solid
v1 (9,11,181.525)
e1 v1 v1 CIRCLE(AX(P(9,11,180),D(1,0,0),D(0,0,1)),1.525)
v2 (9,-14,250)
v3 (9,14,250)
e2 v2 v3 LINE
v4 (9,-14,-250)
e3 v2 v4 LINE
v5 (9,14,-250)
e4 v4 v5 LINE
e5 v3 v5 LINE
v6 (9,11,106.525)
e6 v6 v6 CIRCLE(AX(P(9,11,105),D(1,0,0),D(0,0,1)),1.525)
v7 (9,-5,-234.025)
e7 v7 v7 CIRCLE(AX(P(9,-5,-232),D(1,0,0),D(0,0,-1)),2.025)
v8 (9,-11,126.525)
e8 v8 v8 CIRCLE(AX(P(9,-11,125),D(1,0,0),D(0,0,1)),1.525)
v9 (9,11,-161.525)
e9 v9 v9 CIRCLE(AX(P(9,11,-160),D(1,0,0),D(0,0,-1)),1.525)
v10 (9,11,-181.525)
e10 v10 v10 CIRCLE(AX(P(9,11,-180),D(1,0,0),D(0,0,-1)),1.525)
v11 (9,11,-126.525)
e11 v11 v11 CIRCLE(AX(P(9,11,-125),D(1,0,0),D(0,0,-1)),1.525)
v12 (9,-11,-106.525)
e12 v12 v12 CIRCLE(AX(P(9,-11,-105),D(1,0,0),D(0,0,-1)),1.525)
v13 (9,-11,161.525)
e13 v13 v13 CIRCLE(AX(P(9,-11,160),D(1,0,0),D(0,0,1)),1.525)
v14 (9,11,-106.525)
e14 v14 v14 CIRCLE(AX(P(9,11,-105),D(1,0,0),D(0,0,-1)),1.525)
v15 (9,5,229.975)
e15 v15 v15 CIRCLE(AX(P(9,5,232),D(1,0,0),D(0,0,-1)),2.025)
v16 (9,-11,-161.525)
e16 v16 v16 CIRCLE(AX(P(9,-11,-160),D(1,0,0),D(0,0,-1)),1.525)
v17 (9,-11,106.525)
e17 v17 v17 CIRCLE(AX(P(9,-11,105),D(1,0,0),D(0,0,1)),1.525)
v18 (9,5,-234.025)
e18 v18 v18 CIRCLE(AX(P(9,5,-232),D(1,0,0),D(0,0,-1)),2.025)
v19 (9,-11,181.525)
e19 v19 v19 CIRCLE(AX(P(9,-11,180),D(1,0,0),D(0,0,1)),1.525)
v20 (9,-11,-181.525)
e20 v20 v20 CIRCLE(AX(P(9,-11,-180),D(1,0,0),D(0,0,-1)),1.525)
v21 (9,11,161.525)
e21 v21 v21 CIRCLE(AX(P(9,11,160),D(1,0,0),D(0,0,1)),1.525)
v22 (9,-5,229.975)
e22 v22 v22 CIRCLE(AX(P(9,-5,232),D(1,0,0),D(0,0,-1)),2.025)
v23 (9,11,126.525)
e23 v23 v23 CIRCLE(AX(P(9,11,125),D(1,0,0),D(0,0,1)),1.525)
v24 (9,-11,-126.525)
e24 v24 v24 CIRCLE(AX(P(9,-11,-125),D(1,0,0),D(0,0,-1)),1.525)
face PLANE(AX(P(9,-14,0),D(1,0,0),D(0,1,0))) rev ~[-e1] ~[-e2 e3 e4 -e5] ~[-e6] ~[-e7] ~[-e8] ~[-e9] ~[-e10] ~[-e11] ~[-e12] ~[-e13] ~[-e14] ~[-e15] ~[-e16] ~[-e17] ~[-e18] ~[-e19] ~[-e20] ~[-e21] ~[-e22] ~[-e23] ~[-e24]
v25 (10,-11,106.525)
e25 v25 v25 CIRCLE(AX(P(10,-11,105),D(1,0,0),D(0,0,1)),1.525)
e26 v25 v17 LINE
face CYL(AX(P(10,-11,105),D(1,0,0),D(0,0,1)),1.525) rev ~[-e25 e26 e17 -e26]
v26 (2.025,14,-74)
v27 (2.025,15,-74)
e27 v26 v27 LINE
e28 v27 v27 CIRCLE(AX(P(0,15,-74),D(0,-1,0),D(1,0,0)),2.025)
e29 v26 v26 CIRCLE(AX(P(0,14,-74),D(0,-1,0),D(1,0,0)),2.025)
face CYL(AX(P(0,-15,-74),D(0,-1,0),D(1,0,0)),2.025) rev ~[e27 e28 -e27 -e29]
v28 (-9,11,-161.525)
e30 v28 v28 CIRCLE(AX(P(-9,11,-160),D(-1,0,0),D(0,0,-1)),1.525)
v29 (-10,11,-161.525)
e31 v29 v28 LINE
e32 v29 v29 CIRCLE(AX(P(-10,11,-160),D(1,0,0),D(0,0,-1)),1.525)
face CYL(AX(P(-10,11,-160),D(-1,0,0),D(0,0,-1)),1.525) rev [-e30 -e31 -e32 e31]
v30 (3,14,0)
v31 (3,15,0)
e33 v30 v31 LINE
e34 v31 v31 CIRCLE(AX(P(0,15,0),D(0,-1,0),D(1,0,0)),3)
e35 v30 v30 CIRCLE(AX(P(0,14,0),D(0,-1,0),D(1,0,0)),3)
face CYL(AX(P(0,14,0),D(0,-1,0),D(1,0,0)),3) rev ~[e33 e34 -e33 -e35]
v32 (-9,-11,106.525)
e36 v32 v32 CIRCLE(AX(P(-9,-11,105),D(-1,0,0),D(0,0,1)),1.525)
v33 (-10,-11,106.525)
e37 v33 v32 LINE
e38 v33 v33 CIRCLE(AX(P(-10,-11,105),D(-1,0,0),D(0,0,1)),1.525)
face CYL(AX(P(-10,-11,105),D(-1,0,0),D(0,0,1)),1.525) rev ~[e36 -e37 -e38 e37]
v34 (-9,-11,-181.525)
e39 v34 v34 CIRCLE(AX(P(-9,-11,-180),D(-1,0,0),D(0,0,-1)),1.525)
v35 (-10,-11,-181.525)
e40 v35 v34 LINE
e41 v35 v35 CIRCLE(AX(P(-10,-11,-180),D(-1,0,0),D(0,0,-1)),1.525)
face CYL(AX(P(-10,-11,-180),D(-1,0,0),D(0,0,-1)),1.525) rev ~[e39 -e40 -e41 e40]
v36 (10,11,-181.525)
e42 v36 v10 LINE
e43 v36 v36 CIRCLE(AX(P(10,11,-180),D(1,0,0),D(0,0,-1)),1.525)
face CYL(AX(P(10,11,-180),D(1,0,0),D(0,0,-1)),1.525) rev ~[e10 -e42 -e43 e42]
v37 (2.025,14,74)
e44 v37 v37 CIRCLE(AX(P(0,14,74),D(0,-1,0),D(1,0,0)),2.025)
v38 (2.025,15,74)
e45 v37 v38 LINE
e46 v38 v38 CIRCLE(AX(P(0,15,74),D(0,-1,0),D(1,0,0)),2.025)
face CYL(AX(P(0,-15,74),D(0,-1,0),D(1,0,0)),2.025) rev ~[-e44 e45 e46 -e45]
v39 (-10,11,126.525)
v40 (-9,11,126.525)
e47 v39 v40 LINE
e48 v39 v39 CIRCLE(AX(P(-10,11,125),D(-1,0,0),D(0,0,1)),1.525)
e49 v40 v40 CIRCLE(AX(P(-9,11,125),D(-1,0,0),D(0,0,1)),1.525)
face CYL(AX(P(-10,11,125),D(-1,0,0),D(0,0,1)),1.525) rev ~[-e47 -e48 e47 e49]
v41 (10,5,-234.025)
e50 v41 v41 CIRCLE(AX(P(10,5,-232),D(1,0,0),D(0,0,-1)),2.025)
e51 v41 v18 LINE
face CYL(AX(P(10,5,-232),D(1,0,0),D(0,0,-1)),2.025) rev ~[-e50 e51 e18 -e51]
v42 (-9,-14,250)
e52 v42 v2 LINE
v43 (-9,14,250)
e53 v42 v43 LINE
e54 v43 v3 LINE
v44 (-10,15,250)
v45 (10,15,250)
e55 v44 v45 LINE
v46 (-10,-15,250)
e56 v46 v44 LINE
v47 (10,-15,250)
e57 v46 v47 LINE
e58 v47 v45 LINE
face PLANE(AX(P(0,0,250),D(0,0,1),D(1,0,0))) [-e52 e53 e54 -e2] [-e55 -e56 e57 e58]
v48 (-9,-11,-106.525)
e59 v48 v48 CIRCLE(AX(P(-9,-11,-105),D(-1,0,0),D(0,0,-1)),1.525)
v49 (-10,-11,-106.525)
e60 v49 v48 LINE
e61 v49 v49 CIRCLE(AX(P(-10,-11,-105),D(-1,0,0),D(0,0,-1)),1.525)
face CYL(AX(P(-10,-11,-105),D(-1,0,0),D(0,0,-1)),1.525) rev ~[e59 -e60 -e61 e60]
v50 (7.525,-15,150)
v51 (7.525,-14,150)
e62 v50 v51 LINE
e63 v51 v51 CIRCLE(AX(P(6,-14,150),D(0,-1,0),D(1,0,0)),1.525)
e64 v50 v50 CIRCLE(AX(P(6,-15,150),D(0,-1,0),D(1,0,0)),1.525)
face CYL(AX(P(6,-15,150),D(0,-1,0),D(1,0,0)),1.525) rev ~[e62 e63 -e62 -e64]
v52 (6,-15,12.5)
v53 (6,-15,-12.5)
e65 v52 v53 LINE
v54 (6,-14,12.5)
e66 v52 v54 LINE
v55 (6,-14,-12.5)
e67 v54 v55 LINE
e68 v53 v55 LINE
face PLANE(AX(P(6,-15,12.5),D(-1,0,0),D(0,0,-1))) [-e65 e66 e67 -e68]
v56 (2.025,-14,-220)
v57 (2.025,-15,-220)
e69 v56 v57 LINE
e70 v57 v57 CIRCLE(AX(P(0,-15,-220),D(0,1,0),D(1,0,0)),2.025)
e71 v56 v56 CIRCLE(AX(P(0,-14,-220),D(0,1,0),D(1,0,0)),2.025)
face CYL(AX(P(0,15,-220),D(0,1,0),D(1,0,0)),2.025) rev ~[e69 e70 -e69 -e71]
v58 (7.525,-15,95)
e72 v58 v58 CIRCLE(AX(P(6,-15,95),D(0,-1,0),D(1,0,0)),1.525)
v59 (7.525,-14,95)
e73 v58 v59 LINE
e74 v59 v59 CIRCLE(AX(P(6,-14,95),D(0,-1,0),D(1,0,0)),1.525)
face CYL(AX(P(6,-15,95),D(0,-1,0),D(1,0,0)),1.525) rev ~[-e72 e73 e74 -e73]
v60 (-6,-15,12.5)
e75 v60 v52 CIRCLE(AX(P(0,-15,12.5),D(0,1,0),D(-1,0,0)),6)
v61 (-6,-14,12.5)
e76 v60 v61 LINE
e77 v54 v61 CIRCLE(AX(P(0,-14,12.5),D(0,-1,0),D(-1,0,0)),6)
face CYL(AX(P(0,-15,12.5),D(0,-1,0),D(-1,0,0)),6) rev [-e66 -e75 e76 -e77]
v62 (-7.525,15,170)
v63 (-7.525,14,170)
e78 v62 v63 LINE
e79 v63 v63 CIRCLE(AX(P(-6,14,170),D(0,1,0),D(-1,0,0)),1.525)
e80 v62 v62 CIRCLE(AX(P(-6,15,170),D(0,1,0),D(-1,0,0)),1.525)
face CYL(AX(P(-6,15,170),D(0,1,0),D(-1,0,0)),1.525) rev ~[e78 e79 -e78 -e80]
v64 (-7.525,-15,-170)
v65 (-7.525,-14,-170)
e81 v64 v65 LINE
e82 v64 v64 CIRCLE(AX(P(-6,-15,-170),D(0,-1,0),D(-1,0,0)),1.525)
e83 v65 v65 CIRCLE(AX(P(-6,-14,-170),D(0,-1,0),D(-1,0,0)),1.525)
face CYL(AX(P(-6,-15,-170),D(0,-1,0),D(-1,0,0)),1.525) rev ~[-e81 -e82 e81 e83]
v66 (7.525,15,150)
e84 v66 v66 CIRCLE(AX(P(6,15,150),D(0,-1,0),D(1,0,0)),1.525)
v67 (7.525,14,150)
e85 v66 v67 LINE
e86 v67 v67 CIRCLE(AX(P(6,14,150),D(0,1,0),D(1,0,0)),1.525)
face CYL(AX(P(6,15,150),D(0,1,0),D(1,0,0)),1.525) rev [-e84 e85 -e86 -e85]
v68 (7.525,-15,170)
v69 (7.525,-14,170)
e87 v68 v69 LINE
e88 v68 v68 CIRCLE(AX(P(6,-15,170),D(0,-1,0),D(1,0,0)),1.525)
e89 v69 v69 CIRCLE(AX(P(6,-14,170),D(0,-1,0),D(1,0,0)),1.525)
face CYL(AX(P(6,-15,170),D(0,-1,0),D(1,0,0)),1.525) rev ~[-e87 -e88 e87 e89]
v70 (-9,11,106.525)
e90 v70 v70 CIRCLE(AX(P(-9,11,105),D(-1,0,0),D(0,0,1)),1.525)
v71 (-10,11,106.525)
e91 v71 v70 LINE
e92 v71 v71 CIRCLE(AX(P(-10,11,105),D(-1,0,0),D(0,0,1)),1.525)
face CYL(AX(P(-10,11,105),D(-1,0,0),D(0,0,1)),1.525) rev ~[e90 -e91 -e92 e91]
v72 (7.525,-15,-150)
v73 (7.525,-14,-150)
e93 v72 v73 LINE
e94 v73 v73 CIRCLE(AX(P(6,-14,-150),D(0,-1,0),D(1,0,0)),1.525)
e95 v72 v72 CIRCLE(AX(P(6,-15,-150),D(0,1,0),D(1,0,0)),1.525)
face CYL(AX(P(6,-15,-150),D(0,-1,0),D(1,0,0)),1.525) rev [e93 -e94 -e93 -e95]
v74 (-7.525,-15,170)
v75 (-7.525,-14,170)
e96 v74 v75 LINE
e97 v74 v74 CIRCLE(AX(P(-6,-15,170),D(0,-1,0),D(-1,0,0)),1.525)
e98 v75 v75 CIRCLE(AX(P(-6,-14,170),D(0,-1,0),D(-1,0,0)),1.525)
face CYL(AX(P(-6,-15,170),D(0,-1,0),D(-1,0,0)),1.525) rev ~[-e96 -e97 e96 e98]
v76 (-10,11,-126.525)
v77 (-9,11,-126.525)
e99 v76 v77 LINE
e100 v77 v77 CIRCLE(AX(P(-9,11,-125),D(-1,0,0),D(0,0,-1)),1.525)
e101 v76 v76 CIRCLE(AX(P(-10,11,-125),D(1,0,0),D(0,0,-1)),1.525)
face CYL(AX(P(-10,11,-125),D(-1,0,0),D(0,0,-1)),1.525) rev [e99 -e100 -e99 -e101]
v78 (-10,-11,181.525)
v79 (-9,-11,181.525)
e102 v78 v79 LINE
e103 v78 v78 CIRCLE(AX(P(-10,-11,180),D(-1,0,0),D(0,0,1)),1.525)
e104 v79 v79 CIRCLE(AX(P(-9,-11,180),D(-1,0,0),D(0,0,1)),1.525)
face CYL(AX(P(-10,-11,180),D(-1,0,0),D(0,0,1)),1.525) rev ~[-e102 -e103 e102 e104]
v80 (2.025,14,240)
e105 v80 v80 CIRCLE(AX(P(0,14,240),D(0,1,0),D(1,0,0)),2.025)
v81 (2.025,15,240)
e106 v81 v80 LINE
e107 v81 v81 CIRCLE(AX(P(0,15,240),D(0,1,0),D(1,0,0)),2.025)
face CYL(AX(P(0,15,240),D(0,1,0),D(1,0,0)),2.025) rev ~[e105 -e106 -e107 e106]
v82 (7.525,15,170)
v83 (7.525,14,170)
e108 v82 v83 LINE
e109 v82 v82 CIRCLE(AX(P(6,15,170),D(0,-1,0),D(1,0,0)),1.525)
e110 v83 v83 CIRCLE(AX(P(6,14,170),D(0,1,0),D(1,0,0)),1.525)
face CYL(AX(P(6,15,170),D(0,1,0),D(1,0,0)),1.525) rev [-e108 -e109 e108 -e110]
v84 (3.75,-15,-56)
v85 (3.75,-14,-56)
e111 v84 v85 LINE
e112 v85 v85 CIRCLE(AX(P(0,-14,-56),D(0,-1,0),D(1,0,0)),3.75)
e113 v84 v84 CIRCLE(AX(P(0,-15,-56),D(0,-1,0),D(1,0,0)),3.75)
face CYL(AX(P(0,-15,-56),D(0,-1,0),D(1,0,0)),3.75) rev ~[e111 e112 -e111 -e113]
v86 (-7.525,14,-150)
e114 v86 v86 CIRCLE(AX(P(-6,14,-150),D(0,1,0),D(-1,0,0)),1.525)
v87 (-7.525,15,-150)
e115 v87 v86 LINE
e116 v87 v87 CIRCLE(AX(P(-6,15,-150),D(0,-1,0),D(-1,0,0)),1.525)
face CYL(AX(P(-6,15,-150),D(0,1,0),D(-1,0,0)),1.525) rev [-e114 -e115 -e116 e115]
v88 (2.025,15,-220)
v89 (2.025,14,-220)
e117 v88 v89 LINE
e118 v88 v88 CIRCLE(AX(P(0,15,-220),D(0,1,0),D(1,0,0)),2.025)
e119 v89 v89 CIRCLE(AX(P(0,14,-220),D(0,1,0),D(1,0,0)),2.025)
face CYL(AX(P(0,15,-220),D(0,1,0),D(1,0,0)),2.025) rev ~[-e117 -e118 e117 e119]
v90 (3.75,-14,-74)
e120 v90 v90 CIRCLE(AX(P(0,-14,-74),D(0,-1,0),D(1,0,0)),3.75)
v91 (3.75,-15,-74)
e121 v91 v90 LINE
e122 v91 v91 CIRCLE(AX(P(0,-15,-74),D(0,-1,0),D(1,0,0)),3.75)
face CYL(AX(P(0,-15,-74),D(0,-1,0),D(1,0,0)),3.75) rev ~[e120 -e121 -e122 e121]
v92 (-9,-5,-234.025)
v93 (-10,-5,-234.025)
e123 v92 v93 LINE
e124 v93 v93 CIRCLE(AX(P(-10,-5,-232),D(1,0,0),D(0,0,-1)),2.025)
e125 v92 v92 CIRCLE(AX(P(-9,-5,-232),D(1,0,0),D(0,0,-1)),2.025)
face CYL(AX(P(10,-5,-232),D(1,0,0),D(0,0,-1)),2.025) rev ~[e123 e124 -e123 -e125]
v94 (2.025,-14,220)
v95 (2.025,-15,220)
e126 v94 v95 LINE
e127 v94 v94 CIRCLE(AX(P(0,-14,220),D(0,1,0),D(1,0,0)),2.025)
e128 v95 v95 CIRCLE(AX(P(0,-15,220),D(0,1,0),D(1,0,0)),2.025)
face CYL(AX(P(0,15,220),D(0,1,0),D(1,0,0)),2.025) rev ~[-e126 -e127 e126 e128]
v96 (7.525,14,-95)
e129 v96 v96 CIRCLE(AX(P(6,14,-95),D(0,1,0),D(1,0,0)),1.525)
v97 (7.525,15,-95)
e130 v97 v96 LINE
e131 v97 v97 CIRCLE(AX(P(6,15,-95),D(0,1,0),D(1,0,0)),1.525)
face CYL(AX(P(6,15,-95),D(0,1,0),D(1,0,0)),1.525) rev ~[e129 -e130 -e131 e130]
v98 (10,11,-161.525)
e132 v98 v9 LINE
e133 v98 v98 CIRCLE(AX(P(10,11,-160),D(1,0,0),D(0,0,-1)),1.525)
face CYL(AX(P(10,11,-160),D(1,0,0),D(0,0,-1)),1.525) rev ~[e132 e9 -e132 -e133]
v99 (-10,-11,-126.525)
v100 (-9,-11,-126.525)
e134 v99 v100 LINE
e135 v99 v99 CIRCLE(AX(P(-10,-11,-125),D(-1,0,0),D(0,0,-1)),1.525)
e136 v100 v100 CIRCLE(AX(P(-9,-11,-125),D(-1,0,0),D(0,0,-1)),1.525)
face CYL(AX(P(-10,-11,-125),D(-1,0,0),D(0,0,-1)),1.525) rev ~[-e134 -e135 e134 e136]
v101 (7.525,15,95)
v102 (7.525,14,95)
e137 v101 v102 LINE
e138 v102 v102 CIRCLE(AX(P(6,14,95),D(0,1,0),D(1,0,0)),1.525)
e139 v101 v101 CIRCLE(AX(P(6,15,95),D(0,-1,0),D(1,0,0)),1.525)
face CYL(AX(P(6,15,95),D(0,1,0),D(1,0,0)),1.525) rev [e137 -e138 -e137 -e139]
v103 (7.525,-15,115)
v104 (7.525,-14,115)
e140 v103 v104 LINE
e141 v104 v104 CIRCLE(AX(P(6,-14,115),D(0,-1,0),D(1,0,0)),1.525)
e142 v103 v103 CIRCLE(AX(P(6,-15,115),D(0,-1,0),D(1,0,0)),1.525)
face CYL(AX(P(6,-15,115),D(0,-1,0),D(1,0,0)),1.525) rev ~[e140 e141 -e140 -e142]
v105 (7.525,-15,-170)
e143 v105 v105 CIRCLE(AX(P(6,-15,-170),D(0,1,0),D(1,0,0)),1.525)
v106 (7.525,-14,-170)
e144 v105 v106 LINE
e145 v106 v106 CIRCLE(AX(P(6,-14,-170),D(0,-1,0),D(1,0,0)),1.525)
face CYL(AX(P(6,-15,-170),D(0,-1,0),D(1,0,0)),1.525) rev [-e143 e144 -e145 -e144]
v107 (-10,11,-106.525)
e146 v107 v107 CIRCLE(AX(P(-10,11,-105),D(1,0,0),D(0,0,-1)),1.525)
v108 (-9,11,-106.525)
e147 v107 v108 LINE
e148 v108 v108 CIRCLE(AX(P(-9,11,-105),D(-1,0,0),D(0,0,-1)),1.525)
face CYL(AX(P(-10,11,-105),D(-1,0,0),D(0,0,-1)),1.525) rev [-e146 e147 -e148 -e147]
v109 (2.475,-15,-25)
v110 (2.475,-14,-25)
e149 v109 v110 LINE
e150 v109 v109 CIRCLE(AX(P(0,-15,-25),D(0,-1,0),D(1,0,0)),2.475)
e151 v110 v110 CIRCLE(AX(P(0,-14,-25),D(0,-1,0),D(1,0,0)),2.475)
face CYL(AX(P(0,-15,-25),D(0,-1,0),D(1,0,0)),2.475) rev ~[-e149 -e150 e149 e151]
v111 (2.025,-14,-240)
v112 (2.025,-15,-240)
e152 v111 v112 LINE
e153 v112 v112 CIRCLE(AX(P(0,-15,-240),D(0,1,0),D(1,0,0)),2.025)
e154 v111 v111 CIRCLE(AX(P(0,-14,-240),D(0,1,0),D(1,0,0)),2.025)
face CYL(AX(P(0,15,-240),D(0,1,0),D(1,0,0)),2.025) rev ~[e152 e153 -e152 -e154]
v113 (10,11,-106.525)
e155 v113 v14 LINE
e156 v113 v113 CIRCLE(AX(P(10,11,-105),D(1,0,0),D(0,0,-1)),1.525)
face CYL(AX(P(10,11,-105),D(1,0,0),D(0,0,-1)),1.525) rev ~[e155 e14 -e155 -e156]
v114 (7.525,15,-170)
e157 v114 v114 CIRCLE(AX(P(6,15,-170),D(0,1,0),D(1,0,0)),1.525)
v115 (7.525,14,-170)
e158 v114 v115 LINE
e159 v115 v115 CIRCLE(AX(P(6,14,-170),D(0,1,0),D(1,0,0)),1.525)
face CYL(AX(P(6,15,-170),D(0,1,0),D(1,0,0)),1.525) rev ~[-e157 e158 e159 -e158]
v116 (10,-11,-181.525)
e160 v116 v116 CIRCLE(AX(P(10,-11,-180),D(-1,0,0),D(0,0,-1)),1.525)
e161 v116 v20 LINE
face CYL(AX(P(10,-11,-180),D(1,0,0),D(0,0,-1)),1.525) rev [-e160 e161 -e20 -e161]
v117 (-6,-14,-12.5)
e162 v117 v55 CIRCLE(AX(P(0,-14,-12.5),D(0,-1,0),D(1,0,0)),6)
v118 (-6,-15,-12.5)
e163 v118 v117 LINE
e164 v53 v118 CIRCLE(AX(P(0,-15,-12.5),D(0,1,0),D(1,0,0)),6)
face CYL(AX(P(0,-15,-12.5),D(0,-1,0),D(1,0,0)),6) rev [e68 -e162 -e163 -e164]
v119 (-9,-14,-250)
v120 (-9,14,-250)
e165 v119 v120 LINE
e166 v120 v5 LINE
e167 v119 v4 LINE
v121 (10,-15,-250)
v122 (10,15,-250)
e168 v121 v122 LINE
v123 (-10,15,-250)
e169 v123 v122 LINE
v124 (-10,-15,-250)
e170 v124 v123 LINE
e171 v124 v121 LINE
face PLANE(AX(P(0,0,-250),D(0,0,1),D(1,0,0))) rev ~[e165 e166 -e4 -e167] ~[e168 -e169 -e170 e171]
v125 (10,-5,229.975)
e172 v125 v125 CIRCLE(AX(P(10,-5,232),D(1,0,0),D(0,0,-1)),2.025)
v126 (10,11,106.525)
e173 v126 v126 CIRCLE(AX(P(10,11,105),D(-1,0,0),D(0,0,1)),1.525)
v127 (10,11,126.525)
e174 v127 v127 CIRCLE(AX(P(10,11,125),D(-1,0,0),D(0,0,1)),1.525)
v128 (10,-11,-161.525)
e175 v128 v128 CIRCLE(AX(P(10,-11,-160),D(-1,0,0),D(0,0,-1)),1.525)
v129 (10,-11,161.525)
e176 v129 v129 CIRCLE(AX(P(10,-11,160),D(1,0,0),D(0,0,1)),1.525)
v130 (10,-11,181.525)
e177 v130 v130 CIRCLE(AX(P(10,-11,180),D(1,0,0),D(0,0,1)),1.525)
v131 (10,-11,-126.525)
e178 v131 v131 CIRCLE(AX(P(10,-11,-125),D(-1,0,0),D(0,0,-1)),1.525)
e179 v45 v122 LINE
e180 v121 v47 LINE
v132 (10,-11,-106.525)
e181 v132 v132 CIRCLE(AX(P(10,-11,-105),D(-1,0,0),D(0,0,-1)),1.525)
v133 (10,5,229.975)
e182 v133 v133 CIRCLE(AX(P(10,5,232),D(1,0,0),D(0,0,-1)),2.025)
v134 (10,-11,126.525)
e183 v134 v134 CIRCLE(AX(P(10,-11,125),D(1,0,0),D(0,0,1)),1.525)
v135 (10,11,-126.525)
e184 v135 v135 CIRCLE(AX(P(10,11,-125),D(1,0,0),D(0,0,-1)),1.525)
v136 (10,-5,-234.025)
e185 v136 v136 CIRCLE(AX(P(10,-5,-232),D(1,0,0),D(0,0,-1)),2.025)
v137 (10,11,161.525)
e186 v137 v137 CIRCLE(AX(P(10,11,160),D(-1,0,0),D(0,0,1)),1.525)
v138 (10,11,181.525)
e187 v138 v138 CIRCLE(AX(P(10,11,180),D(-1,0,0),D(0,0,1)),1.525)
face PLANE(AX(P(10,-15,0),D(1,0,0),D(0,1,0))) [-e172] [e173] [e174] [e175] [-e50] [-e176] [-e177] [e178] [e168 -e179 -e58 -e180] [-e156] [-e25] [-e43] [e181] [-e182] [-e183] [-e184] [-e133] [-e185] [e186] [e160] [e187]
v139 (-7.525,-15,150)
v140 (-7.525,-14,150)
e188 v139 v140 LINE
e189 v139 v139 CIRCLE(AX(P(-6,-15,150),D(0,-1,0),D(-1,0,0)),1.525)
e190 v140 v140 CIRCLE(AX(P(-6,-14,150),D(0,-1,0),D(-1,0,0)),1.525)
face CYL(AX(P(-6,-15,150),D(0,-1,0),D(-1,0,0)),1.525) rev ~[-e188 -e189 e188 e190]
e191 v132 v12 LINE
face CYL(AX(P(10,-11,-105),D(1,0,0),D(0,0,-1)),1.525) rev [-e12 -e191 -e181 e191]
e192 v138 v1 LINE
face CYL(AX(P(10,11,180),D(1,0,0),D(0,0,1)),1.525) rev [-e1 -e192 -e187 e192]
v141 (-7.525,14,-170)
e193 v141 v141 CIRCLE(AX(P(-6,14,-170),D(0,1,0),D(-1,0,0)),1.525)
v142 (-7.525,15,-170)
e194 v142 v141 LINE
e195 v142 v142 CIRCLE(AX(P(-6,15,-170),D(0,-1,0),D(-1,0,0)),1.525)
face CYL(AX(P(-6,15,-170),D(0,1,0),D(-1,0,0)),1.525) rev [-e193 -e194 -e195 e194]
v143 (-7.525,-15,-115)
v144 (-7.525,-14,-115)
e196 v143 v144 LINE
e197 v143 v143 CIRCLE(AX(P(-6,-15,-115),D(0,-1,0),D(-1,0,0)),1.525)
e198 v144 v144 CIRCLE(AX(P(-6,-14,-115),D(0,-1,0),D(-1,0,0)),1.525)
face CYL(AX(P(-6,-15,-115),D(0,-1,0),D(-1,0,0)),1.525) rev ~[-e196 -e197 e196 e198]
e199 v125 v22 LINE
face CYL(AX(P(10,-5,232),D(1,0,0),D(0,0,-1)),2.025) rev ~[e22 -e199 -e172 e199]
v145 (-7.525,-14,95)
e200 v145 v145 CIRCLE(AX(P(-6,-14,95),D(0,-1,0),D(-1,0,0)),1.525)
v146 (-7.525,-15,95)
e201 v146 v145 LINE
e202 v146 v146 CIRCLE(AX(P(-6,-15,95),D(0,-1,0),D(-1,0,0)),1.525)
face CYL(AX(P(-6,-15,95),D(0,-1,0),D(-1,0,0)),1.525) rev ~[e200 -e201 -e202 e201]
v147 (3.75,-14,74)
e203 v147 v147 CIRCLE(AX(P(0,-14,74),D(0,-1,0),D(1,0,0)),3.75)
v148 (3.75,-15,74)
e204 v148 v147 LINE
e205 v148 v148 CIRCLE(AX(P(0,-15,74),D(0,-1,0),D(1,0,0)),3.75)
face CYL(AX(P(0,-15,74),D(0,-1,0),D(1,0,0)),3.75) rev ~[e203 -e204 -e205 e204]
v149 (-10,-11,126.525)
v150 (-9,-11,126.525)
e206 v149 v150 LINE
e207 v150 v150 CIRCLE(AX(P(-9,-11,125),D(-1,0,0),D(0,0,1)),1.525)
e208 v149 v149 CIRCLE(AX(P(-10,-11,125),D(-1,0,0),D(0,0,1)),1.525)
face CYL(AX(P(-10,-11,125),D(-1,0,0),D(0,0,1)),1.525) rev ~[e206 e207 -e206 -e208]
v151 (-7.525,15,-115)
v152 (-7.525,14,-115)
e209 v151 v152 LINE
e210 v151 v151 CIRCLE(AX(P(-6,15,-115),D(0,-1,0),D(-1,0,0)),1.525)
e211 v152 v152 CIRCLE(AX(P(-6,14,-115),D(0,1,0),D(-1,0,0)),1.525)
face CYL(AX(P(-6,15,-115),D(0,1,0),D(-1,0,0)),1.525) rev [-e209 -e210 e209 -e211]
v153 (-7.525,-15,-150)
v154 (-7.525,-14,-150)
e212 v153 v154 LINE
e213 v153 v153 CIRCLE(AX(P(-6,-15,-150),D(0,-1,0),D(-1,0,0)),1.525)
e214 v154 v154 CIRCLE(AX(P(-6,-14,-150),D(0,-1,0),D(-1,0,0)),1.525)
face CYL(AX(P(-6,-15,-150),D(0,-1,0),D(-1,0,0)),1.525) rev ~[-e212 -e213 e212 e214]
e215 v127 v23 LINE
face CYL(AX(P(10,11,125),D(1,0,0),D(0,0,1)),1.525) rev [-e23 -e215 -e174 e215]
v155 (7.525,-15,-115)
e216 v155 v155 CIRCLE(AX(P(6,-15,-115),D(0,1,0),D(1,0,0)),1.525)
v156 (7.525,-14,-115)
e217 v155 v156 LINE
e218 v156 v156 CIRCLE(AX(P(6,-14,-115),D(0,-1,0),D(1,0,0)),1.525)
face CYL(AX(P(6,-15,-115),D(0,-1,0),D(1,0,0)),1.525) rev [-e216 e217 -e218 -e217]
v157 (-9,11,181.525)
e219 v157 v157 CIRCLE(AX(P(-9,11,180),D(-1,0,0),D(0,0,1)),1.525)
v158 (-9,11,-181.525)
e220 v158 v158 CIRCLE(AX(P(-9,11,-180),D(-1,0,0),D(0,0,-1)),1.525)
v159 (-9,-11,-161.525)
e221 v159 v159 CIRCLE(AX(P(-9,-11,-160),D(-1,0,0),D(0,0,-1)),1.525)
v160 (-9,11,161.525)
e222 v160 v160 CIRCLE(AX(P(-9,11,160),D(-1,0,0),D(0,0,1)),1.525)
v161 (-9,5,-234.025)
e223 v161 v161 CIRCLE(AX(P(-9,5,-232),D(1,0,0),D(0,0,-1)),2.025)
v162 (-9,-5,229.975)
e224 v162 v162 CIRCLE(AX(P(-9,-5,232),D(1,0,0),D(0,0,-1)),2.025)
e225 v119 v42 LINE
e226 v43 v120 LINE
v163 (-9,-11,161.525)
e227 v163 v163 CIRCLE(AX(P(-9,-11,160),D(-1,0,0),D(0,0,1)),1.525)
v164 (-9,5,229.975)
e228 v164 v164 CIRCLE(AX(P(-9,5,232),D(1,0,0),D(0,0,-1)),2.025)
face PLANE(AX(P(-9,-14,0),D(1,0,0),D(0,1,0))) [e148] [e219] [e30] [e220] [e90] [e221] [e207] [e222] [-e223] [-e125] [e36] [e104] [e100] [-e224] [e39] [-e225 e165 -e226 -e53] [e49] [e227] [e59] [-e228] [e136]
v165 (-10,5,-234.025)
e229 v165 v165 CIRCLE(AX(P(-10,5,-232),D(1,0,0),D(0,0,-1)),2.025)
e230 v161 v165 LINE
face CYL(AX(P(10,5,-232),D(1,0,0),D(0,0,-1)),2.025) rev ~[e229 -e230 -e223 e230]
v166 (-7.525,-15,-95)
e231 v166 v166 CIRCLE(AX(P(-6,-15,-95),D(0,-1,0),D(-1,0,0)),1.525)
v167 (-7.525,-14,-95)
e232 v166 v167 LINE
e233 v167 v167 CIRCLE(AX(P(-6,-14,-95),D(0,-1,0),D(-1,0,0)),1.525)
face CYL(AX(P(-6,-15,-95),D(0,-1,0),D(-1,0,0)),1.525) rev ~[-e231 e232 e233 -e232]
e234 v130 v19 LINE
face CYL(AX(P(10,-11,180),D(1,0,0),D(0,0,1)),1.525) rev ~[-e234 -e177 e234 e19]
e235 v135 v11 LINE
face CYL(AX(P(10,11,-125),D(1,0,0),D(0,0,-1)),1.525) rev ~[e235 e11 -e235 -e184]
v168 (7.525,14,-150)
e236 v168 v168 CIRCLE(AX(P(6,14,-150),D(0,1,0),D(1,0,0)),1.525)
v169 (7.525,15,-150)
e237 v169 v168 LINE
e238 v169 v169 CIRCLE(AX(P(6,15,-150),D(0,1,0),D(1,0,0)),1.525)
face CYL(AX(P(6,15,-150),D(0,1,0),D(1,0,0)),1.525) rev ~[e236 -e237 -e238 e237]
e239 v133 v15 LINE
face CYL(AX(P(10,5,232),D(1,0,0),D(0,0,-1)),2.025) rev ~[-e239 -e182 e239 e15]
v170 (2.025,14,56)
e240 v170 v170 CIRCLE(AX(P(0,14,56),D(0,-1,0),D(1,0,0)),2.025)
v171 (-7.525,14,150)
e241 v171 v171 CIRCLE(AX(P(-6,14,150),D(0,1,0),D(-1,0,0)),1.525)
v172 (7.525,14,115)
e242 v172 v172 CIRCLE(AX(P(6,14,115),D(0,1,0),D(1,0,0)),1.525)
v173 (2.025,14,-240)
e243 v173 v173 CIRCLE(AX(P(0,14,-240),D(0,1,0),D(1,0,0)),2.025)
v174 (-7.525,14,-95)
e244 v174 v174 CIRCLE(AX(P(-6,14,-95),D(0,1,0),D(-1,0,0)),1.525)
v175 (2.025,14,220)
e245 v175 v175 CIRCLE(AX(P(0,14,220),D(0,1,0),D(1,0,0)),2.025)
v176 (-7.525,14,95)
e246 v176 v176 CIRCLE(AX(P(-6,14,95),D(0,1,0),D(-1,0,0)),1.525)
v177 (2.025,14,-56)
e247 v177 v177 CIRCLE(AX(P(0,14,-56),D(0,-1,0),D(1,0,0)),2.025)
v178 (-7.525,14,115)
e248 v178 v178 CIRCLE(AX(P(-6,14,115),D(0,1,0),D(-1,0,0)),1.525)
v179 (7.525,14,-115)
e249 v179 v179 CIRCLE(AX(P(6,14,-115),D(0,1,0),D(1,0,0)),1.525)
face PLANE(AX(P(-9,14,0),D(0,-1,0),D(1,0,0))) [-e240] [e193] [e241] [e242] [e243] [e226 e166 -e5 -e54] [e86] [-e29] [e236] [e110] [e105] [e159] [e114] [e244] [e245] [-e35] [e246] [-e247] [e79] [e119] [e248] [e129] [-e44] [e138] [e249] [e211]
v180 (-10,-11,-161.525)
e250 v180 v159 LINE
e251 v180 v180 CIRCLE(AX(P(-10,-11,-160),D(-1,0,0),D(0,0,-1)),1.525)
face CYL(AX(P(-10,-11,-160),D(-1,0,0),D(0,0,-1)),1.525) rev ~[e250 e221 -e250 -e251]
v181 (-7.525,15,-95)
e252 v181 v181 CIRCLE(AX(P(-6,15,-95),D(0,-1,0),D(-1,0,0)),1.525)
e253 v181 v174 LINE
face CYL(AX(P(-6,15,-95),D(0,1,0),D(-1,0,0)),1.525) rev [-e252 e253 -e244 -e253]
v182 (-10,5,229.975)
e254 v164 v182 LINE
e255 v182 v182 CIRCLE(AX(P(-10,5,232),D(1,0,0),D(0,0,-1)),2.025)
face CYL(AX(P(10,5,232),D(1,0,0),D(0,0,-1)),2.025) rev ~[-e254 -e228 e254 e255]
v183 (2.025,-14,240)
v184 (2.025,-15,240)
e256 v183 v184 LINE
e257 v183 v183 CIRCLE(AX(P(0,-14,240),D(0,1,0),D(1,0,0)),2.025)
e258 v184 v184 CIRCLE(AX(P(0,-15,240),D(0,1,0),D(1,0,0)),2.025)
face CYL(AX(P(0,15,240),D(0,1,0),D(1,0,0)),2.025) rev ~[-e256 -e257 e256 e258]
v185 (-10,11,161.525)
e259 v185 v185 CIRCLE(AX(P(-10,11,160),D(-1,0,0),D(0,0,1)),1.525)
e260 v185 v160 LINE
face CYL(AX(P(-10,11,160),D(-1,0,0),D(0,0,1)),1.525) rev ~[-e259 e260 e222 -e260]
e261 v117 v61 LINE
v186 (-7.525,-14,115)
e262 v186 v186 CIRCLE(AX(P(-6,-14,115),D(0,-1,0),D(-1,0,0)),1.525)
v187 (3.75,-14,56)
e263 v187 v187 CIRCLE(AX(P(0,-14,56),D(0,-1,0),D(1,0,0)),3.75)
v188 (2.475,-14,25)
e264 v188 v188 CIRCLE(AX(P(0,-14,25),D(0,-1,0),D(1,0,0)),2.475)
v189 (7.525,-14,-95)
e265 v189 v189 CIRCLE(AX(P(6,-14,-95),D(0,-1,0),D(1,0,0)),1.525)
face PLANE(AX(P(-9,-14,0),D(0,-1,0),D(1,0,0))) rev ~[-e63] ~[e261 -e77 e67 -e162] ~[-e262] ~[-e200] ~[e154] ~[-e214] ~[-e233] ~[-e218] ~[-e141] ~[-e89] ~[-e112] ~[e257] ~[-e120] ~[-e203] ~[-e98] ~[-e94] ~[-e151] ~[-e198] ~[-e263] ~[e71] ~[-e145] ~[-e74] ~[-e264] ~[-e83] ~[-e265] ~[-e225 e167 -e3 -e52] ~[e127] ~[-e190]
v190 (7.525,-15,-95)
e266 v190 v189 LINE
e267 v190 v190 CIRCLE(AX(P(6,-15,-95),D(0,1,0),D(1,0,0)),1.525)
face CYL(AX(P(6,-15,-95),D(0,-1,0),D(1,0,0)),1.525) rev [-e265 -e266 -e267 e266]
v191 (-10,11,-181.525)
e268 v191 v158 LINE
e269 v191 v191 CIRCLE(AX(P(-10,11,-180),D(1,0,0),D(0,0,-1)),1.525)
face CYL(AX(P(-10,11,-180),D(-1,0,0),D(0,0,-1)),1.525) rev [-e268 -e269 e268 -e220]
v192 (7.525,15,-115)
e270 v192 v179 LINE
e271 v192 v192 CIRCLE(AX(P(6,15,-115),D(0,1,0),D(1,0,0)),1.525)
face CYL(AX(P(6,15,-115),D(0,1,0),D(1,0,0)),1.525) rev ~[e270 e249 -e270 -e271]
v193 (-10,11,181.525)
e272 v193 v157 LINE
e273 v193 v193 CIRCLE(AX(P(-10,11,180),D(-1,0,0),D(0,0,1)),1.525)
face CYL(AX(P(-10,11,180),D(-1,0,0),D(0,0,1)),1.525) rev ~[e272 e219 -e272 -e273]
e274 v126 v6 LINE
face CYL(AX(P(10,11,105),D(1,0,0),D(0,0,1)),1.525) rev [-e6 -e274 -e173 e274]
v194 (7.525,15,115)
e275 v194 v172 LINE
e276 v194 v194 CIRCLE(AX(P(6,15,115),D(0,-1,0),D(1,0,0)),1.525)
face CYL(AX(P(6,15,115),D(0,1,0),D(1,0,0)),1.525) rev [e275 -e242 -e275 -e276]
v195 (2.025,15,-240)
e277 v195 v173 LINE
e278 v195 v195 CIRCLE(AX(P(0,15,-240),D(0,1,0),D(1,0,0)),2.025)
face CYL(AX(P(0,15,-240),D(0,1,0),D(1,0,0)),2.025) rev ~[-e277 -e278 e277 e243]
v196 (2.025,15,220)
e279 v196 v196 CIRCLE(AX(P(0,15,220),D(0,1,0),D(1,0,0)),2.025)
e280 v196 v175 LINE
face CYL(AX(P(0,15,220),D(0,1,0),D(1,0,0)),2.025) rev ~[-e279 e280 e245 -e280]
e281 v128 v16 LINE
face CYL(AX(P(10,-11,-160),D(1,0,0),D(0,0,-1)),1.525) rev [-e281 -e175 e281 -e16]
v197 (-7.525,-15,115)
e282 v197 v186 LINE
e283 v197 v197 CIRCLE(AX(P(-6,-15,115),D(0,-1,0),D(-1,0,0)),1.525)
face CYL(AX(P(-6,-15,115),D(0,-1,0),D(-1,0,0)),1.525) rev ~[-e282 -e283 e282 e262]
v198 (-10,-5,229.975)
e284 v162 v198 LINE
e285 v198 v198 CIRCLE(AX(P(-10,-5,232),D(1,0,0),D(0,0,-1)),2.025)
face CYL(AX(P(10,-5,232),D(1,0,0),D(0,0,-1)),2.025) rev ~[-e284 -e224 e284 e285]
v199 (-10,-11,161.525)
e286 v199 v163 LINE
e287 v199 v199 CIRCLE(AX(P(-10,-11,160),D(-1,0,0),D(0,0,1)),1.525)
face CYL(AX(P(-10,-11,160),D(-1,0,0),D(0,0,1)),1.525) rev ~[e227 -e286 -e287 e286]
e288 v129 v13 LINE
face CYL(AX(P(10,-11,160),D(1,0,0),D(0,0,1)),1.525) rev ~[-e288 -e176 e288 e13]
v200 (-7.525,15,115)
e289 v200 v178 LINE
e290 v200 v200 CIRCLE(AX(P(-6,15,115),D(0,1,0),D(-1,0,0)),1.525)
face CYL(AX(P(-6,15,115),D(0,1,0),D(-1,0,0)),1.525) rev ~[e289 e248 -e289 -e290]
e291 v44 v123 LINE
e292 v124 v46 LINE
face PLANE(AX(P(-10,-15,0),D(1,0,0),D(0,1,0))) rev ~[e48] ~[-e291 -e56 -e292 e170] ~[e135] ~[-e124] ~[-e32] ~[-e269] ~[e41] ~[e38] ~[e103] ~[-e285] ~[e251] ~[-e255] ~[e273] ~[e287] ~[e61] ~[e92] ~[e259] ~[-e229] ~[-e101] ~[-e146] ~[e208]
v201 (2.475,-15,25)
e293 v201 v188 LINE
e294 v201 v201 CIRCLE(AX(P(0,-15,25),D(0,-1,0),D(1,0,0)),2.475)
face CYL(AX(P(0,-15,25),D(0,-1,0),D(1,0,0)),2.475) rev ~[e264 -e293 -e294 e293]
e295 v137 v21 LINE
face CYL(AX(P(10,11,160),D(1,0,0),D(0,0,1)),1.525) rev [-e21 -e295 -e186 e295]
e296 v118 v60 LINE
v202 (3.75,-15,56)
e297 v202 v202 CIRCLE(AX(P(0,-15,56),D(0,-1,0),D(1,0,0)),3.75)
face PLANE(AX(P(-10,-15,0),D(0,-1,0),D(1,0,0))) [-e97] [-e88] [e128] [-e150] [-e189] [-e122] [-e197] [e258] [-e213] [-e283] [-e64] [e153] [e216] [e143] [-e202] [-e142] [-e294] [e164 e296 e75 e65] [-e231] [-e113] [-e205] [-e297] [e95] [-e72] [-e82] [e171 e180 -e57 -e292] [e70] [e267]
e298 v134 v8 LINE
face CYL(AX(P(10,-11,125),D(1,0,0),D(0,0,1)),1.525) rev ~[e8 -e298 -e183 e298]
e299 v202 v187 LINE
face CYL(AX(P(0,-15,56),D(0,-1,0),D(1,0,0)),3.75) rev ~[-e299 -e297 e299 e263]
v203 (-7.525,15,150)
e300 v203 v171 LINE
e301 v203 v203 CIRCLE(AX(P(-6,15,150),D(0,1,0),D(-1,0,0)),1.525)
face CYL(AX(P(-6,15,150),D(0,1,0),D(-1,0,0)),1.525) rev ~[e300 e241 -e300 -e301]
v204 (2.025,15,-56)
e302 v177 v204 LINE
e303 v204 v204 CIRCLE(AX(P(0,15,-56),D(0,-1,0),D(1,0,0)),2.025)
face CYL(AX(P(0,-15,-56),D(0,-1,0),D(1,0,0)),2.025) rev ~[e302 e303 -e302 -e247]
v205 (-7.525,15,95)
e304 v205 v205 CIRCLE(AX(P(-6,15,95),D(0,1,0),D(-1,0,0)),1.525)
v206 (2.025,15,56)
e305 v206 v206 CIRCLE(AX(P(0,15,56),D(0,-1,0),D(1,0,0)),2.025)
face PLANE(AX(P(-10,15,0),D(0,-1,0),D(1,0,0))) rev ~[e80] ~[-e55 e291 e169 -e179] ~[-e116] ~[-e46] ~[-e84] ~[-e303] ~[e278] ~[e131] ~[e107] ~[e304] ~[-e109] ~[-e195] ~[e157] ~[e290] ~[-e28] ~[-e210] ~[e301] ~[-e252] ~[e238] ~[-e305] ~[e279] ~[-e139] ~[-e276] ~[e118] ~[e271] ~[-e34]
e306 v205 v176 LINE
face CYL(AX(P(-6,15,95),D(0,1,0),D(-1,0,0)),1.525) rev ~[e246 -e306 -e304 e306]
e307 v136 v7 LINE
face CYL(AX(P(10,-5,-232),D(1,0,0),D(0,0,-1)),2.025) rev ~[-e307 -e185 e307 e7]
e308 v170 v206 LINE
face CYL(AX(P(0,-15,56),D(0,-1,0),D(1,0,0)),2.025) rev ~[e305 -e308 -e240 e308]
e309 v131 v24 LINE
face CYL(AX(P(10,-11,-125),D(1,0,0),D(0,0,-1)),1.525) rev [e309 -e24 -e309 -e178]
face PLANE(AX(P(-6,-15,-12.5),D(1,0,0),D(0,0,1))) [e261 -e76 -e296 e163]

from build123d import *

# Parameters (mm, degrees)
SKETCH_1_W               = 20
SKETCH_1_H               = 30
SKETCH_1_W_2             = 18
SKETCH_1_H_2             = 28
EXTRUDE_1_DEPTH          = 250
SKETCH_2_R               = 2.025
CUT_EXTRUDE_1_DEPTH      = 30
SKETCH_3_R               = 6
CUT_EXTRUDE_2_DEPTH      = 10
SKETCH_4_R               = 3
CUT_EXTRUDE_3_DEPTH      = 10
SKETCH_5_R               = 2.025
CUT_EXTRUDE_4_DEPTH      = 50
SKETCH_6_R               = 3.75
CUT_EXTRUDE_5_DEPTH      = 2
SKETCH_7_R               = 1.525
CUT_EXTRUDE_6_DEPTH      = 10
SKETCH_8_R               = 1.525
CUT_EXTRUDE_7_DEPTH      = 10
MIRROR_2_COPY_1_SKETCH_R = 1.525
MIRROR_2_COPY_1_DEPTH    = 10
MIRROR_2_COPY_2_SKETCH_R = 1.525
MIRROR_2_COPY_2_DEPTH    = 10
MIRROR_3_COPY_1_SKETCH_R = 1.525
MIRROR_3_COPY_1_DEPTH    = 10
MIRROR_3_COPY_2_SKETCH_R = 1.525
MIRROR_3_COPY_2_DEPTH    = 10
MIRROR_3_COPY_3_SKETCH_R = 1.525
MIRROR_3_COPY_3_DEPTH    = 10
MIRROR_3_COPY_4_SKETCH_R = 1.525
MIRROR_3_COPY_4_DEPTH    = 10
MIRROR_3_COPY_5_SKETCH_R = 1.525
MIRROR_3_COPY_5_DEPTH    = 10
MIRROR_3_COPY_6_SKETCH_R = 1.525
MIRROR_3_COPY_6_DEPTH    = 10
CUT_EXTRUDE_8_DEPTH      = 10
SKETCH_11_R              = 2.475
CUT_EXTRUDE_9_DEPTH      = 10
SKETCH_12_R              = 2.025
CUT_EXTRUDE_10_DEPTH     = 20


with BuildPart() as part:
    # Sketch 1 → Extrude 1 (new body, symmetric)
    with BuildSketch(Plane.XY):
        Rectangle(SKETCH_1_W, SKETCH_1_H)
        Rectangle(SKETCH_1_W_2, SKETCH_1_H_2, mode=Mode.SUBTRACT)
    extrude(amount=EXTRUDE_1_DEPTH, both=True)

    # Sketch 2 → Cut-Extrude 1 (cut)
    with BuildSketch(Plane(origin=(0, 15, 0), x_dir=(1, 0, 0), z_dir=(0, 1, 0))):
        with Locations((0, -240)):
            Circle(SKETCH_2_R)
        with Locations((0, -220)):
            Circle(SKETCH_2_R)
        with Locations((0, 240)):
            Circle(SKETCH_2_R)
        with Locations((0, 220)):
            Circle(SKETCH_2_R)
    extrude(amount=-CUT_EXTRUDE_1_DEPTH, mode=Mode.SUBTRACT)

    # Sketch 3 → Cut-Extrude 2 (cut)
    with BuildSketch(Plane.XZ.offset(15)):
        Circle(SKETCH_3_R)
    extrude(amount=-CUT_EXTRUDE_2_DEPTH, mode=Mode.SUBTRACT)

    # Sketch 4 → Cut-Extrude 3 (cut)
    with BuildSketch(Plane.XZ.offset(-14)):
        Circle(SKETCH_4_R)
    extrude(amount=-CUT_EXTRUDE_3_DEPTH, mode=Mode.SUBTRACT)

    # Sketch 5 → Cut-Extrude 4 (cut)
    with BuildSketch(Plane.XZ.offset(15)):
        with Locations((0, 56)):
            Circle(SKETCH_5_R)
        with Locations((0, 74)):
            Circle(SKETCH_5_R)
        with Locations((0, -74)):
            Circle(SKETCH_5_R)
        with Locations((0, -56)):
            Circle(SKETCH_5_R)
    extrude(amount=-CUT_EXTRUDE_4_DEPTH, mode=Mode.SUBTRACT)

    # Sketch 6 → Cut-Extrude 5 (cut)
    with BuildSketch(Plane.XZ.offset(15)):
        with Locations((0, 74)):
            Circle(SKETCH_6_R)
        with Locations((0, 56)):
            Circle(SKETCH_6_R)
        with Locations((0, -56)):
            Circle(SKETCH_6_R)
        with Locations((0, -74)):
            Circle(SKETCH_6_R)
    extrude(amount=-CUT_EXTRUDE_5_DEPTH, mode=Mode.SUBTRACT)

    # Sketch 7 → Cut-Extrude 6 (cut)
    with BuildSketch(Plane(origin=(0, 15, 0), x_dir=(1, 0, 0), z_dir=(0, 1, 0))):
        with Locations((6, 115)):
            Circle(SKETCH_7_R)
        with Locations((6, 95)):
            Circle(SKETCH_7_R)
        with Locations((6, 150)):
            Circle(SKETCH_7_R)
        with Locations((6, 170)):
            Circle(SKETCH_7_R)
    cut_extrude_6 = extrude(amount=-CUT_EXTRUDE_6_DEPTH, mode=Mode.SUBTRACT)

    # Sketch 8 → Cut-Extrude 7 (cut)
    with BuildSketch(Plane(origin=(10, 0, 0), x_dir=(0, 0, -1), z_dir=(1, 0, 0))):
        with Locations((105, 11)):
            Circle(SKETCH_8_R)
        with Locations((125, 11)):
            Circle(SKETCH_8_R)
        with Locations((160, 11)):
            Circle(SKETCH_8_R)
        with Locations((180, 11)):
            Circle(SKETCH_8_R)
    cut_extrude_7 = extrude(amount=-CUT_EXTRUDE_7_DEPTH, mode=Mode.SUBTRACT)

    # Mirror 1: Cut-Extrude 6, Cut-Extrude 7 across plane
    add(cut_extrude_6.mirror(Plane.ZX), mode=Mode.SUBTRACT)
    add(cut_extrude_7.mirror(Plane.ZX), mode=Mode.SUBTRACT)

    # Mirror 2: Cut-Extrude 6, Cut-Extrude 7 across plane
    add(cut_extrude_6.mirror(Plane.XY), mode=Mode.SUBTRACT)
    add(cut_extrude_7.mirror(Plane.XY), mode=Mode.SUBTRACT)

    # Mirror 2 copy 1 sketch → Mirror 2 copy 1 (cut)
    with BuildSketch(Plane.XZ.offset(15)):
        with Locations((6, 115)):
            Circle(MIRROR_2_COPY_1_SKETCH_R)
        with Locations((6, 95)):
            Circle(MIRROR_2_COPY_1_SKETCH_R)
        with Locations((6, 150)):
            Circle(MIRROR_2_COPY_1_SKETCH_R)
        with Locations((6, 170)):
            Circle(MIRROR_2_COPY_1_SKETCH_R)
    extrude(amount=-MIRROR_2_COPY_1_DEPTH, mode=Mode.SUBTRACT)

    # Mirror 2 copy 2 sketch → Mirror 2 copy 2 (cut)
    with BuildSketch(Plane(origin=(10, 0, 0), x_dir=(0, 0, 1), z_dir=(1, 0, 0))):
        with Locations((105, 11)):
            Circle(MIRROR_2_COPY_2_SKETCH_R)
        with Locations((125, 11)):
            Circle(MIRROR_2_COPY_2_SKETCH_R)
        with Locations((160, 11)):
            Circle(MIRROR_2_COPY_2_SKETCH_R)
        with Locations((180, 11)):
            Circle(MIRROR_2_COPY_2_SKETCH_R)
    extrude(amount=-MIRROR_2_COPY_2_DEPTH, mode=Mode.SUBTRACT)

    # Mirror 3: Cut-Extrude 6, Cut-Extrude 7 across plane
    add(cut_extrude_6.mirror(Plane(origin=(0, 0, 0), x_dir=(0, 0, 1), z_dir=(1, 0, 0))), mode=Mode.SUBTRACT)
    add(cut_extrude_7.mirror(Plane(origin=(0, 0, 0), x_dir=(0, 0, 1), z_dir=(1, 0, 0))), mode=Mode.SUBTRACT)

    # Mirror 3 copy 1 sketch → Mirror 3 copy 1 (cut)
    with BuildSketch(Plane(origin=(0, 15, 0), x_dir=(-1, 0, 0), z_dir=(0, 1, 0))):
        with Locations((6, 115)):
            Circle(MIRROR_3_COPY_1_SKETCH_R)
        with Locations((6, 95)):
            Circle(MIRROR_3_COPY_1_SKETCH_R)
        with Locations((6, 150)):
            Circle(MIRROR_3_COPY_1_SKETCH_R)
        with Locations((6, 170)):
            Circle(MIRROR_3_COPY_1_SKETCH_R)
    extrude(amount=-MIRROR_3_COPY_1_DEPTH, mode=Mode.SUBTRACT)

    # Mirror 3 copy 2 sketch → Mirror 3 copy 2 (cut)
    with BuildSketch(Plane.ZY.offset(10)):
        with Locations((105, 11)):
            Circle(MIRROR_3_COPY_2_SKETCH_R)
        with Locations((125, 11)):
            Circle(MIRROR_3_COPY_2_SKETCH_R)
        with Locations((160, 11)):
            Circle(MIRROR_3_COPY_2_SKETCH_R)
        with Locations((180, 11)):
            Circle(MIRROR_3_COPY_2_SKETCH_R)
    extrude(amount=-MIRROR_3_COPY_2_DEPTH, mode=Mode.SUBTRACT)

    # Mirror 3 copy 3 sketch → Mirror 3 copy 3 (cut)
    with BuildSketch(Plane(origin=(0, -15, 0), x_dir=(-1, 0, 0), z_dir=(0, -1, 0))):
        with Locations((6, -115)):
            Circle(MIRROR_3_COPY_3_SKETCH_R)
        with Locations((6, -95)):
            Circle(MIRROR_3_COPY_3_SKETCH_R)
        with Locations((6, -150)):
            Circle(MIRROR_3_COPY_3_SKETCH_R)
        with Locations((6, -170)):
            Circle(MIRROR_3_COPY_3_SKETCH_R)
    extrude(amount=-MIRROR_3_COPY_3_DEPTH, mode=Mode.SUBTRACT)

    # Mirror 3 copy 4 sketch → Mirror 3 copy 4 (cut)
    with BuildSketch(Plane.ZY.offset(10)):
        with Locations((105, -11)):
            Circle(MIRROR_3_COPY_4_SKETCH_R)
        with Locations((125, -11)):
            Circle(MIRROR_3_COPY_4_SKETCH_R)
        with Locations((160, -11)):
            Circle(MIRROR_3_COPY_4_SKETCH_R)
        with Locations((180, -11)):
            Circle(MIRROR_3_COPY_4_SKETCH_R)
    extrude(amount=-MIRROR_3_COPY_4_DEPTH, mode=Mode.SUBTRACT)

    # Mirror 3 copy 5 sketch → Mirror 3 copy 5 (cut)
    with BuildSketch(Plane(origin=(0, -15, 0), x_dir=(-1, 0, 0), z_dir=(0, -1, 0))):
        with Locations((6, 115)):
            Circle(MIRROR_3_COPY_5_SKETCH_R)
        with Locations((6, 95)):
            Circle(MIRROR_3_COPY_5_SKETCH_R)
        with Locations((6, 150)):
            Circle(MIRROR_3_COPY_5_SKETCH_R)
        with Locations((6, 170)):
            Circle(MIRROR_3_COPY_5_SKETCH_R)
    extrude(amount=-MIRROR_3_COPY_5_DEPTH, mode=Mode.SUBTRACT)

    # Mirror 3 copy 6 sketch → Mirror 3 copy 6 (cut)
    with BuildSketch(Plane(origin=(-10, 0, 0), x_dir=(0, 0, -1), z_dir=(-1, 0, 0))):
        with Locations((105, 11)):
            Circle(MIRROR_3_COPY_6_SKETCH_R)
        with Locations((125, 11)):
            Circle(MIRROR_3_COPY_6_SKETCH_R)
        with Locations((160, 11)):
            Circle(MIRROR_3_COPY_6_SKETCH_R)
        with Locations((180, 11)):
            Circle(MIRROR_3_COPY_6_SKETCH_R)
    extrude(amount=-MIRROR_3_COPY_6_DEPTH, mode=Mode.SUBTRACT)

    # Sketch 9 → Cut-Extrude 8 (cut)
    with BuildSketch(Plane.XZ.offset(15)):
        with BuildLine():
            Line((6, 12.5), (6, -12.5))
            ThreePointArc((6, -12.5), (0, -18.5), (-6, -12.5))
            Line((-6, -12.5), (-6, 12.5))
            ThreePointArc((-6, 12.5), (0, 18.5), (6, 12.5))
        make_face()
    extrude(amount=-CUT_EXTRUDE_8_DEPTH, mode=Mode.SUBTRACT)

    # Sketch 11 → Cut-Extrude 9 (cut)
    with BuildSketch(Plane.XZ.offset(15)):
        with Locations((0, 25)):
            Circle(SKETCH_11_R)
        with Locations((0, -25)):
            Circle(SKETCH_11_R)
    extrude(amount=-CUT_EXTRUDE_9_DEPTH, mode=Mode.SUBTRACT)

    # Sketch 12 → Cut-Extrude 10 (cut)
    with BuildSketch(Plane(origin=(10, 0, 0), x_dir=(0, 0, -1), z_dir=(1, 0, 0))):
        with Locations((-232, 5)):
            Circle(SKETCH_12_R)
        with Locations((-232, -5)):
            Circle(SKETCH_12_R)
        with Locations((232, -5)):
            Circle(SKETCH_12_R)
        with Locations((232, 5)):
            Circle(SKETCH_12_R)
    extrude(amount=-CUT_EXTRUDE_10_DEPTH, mode=Mode.SUBTRACT)


solid = part.part
